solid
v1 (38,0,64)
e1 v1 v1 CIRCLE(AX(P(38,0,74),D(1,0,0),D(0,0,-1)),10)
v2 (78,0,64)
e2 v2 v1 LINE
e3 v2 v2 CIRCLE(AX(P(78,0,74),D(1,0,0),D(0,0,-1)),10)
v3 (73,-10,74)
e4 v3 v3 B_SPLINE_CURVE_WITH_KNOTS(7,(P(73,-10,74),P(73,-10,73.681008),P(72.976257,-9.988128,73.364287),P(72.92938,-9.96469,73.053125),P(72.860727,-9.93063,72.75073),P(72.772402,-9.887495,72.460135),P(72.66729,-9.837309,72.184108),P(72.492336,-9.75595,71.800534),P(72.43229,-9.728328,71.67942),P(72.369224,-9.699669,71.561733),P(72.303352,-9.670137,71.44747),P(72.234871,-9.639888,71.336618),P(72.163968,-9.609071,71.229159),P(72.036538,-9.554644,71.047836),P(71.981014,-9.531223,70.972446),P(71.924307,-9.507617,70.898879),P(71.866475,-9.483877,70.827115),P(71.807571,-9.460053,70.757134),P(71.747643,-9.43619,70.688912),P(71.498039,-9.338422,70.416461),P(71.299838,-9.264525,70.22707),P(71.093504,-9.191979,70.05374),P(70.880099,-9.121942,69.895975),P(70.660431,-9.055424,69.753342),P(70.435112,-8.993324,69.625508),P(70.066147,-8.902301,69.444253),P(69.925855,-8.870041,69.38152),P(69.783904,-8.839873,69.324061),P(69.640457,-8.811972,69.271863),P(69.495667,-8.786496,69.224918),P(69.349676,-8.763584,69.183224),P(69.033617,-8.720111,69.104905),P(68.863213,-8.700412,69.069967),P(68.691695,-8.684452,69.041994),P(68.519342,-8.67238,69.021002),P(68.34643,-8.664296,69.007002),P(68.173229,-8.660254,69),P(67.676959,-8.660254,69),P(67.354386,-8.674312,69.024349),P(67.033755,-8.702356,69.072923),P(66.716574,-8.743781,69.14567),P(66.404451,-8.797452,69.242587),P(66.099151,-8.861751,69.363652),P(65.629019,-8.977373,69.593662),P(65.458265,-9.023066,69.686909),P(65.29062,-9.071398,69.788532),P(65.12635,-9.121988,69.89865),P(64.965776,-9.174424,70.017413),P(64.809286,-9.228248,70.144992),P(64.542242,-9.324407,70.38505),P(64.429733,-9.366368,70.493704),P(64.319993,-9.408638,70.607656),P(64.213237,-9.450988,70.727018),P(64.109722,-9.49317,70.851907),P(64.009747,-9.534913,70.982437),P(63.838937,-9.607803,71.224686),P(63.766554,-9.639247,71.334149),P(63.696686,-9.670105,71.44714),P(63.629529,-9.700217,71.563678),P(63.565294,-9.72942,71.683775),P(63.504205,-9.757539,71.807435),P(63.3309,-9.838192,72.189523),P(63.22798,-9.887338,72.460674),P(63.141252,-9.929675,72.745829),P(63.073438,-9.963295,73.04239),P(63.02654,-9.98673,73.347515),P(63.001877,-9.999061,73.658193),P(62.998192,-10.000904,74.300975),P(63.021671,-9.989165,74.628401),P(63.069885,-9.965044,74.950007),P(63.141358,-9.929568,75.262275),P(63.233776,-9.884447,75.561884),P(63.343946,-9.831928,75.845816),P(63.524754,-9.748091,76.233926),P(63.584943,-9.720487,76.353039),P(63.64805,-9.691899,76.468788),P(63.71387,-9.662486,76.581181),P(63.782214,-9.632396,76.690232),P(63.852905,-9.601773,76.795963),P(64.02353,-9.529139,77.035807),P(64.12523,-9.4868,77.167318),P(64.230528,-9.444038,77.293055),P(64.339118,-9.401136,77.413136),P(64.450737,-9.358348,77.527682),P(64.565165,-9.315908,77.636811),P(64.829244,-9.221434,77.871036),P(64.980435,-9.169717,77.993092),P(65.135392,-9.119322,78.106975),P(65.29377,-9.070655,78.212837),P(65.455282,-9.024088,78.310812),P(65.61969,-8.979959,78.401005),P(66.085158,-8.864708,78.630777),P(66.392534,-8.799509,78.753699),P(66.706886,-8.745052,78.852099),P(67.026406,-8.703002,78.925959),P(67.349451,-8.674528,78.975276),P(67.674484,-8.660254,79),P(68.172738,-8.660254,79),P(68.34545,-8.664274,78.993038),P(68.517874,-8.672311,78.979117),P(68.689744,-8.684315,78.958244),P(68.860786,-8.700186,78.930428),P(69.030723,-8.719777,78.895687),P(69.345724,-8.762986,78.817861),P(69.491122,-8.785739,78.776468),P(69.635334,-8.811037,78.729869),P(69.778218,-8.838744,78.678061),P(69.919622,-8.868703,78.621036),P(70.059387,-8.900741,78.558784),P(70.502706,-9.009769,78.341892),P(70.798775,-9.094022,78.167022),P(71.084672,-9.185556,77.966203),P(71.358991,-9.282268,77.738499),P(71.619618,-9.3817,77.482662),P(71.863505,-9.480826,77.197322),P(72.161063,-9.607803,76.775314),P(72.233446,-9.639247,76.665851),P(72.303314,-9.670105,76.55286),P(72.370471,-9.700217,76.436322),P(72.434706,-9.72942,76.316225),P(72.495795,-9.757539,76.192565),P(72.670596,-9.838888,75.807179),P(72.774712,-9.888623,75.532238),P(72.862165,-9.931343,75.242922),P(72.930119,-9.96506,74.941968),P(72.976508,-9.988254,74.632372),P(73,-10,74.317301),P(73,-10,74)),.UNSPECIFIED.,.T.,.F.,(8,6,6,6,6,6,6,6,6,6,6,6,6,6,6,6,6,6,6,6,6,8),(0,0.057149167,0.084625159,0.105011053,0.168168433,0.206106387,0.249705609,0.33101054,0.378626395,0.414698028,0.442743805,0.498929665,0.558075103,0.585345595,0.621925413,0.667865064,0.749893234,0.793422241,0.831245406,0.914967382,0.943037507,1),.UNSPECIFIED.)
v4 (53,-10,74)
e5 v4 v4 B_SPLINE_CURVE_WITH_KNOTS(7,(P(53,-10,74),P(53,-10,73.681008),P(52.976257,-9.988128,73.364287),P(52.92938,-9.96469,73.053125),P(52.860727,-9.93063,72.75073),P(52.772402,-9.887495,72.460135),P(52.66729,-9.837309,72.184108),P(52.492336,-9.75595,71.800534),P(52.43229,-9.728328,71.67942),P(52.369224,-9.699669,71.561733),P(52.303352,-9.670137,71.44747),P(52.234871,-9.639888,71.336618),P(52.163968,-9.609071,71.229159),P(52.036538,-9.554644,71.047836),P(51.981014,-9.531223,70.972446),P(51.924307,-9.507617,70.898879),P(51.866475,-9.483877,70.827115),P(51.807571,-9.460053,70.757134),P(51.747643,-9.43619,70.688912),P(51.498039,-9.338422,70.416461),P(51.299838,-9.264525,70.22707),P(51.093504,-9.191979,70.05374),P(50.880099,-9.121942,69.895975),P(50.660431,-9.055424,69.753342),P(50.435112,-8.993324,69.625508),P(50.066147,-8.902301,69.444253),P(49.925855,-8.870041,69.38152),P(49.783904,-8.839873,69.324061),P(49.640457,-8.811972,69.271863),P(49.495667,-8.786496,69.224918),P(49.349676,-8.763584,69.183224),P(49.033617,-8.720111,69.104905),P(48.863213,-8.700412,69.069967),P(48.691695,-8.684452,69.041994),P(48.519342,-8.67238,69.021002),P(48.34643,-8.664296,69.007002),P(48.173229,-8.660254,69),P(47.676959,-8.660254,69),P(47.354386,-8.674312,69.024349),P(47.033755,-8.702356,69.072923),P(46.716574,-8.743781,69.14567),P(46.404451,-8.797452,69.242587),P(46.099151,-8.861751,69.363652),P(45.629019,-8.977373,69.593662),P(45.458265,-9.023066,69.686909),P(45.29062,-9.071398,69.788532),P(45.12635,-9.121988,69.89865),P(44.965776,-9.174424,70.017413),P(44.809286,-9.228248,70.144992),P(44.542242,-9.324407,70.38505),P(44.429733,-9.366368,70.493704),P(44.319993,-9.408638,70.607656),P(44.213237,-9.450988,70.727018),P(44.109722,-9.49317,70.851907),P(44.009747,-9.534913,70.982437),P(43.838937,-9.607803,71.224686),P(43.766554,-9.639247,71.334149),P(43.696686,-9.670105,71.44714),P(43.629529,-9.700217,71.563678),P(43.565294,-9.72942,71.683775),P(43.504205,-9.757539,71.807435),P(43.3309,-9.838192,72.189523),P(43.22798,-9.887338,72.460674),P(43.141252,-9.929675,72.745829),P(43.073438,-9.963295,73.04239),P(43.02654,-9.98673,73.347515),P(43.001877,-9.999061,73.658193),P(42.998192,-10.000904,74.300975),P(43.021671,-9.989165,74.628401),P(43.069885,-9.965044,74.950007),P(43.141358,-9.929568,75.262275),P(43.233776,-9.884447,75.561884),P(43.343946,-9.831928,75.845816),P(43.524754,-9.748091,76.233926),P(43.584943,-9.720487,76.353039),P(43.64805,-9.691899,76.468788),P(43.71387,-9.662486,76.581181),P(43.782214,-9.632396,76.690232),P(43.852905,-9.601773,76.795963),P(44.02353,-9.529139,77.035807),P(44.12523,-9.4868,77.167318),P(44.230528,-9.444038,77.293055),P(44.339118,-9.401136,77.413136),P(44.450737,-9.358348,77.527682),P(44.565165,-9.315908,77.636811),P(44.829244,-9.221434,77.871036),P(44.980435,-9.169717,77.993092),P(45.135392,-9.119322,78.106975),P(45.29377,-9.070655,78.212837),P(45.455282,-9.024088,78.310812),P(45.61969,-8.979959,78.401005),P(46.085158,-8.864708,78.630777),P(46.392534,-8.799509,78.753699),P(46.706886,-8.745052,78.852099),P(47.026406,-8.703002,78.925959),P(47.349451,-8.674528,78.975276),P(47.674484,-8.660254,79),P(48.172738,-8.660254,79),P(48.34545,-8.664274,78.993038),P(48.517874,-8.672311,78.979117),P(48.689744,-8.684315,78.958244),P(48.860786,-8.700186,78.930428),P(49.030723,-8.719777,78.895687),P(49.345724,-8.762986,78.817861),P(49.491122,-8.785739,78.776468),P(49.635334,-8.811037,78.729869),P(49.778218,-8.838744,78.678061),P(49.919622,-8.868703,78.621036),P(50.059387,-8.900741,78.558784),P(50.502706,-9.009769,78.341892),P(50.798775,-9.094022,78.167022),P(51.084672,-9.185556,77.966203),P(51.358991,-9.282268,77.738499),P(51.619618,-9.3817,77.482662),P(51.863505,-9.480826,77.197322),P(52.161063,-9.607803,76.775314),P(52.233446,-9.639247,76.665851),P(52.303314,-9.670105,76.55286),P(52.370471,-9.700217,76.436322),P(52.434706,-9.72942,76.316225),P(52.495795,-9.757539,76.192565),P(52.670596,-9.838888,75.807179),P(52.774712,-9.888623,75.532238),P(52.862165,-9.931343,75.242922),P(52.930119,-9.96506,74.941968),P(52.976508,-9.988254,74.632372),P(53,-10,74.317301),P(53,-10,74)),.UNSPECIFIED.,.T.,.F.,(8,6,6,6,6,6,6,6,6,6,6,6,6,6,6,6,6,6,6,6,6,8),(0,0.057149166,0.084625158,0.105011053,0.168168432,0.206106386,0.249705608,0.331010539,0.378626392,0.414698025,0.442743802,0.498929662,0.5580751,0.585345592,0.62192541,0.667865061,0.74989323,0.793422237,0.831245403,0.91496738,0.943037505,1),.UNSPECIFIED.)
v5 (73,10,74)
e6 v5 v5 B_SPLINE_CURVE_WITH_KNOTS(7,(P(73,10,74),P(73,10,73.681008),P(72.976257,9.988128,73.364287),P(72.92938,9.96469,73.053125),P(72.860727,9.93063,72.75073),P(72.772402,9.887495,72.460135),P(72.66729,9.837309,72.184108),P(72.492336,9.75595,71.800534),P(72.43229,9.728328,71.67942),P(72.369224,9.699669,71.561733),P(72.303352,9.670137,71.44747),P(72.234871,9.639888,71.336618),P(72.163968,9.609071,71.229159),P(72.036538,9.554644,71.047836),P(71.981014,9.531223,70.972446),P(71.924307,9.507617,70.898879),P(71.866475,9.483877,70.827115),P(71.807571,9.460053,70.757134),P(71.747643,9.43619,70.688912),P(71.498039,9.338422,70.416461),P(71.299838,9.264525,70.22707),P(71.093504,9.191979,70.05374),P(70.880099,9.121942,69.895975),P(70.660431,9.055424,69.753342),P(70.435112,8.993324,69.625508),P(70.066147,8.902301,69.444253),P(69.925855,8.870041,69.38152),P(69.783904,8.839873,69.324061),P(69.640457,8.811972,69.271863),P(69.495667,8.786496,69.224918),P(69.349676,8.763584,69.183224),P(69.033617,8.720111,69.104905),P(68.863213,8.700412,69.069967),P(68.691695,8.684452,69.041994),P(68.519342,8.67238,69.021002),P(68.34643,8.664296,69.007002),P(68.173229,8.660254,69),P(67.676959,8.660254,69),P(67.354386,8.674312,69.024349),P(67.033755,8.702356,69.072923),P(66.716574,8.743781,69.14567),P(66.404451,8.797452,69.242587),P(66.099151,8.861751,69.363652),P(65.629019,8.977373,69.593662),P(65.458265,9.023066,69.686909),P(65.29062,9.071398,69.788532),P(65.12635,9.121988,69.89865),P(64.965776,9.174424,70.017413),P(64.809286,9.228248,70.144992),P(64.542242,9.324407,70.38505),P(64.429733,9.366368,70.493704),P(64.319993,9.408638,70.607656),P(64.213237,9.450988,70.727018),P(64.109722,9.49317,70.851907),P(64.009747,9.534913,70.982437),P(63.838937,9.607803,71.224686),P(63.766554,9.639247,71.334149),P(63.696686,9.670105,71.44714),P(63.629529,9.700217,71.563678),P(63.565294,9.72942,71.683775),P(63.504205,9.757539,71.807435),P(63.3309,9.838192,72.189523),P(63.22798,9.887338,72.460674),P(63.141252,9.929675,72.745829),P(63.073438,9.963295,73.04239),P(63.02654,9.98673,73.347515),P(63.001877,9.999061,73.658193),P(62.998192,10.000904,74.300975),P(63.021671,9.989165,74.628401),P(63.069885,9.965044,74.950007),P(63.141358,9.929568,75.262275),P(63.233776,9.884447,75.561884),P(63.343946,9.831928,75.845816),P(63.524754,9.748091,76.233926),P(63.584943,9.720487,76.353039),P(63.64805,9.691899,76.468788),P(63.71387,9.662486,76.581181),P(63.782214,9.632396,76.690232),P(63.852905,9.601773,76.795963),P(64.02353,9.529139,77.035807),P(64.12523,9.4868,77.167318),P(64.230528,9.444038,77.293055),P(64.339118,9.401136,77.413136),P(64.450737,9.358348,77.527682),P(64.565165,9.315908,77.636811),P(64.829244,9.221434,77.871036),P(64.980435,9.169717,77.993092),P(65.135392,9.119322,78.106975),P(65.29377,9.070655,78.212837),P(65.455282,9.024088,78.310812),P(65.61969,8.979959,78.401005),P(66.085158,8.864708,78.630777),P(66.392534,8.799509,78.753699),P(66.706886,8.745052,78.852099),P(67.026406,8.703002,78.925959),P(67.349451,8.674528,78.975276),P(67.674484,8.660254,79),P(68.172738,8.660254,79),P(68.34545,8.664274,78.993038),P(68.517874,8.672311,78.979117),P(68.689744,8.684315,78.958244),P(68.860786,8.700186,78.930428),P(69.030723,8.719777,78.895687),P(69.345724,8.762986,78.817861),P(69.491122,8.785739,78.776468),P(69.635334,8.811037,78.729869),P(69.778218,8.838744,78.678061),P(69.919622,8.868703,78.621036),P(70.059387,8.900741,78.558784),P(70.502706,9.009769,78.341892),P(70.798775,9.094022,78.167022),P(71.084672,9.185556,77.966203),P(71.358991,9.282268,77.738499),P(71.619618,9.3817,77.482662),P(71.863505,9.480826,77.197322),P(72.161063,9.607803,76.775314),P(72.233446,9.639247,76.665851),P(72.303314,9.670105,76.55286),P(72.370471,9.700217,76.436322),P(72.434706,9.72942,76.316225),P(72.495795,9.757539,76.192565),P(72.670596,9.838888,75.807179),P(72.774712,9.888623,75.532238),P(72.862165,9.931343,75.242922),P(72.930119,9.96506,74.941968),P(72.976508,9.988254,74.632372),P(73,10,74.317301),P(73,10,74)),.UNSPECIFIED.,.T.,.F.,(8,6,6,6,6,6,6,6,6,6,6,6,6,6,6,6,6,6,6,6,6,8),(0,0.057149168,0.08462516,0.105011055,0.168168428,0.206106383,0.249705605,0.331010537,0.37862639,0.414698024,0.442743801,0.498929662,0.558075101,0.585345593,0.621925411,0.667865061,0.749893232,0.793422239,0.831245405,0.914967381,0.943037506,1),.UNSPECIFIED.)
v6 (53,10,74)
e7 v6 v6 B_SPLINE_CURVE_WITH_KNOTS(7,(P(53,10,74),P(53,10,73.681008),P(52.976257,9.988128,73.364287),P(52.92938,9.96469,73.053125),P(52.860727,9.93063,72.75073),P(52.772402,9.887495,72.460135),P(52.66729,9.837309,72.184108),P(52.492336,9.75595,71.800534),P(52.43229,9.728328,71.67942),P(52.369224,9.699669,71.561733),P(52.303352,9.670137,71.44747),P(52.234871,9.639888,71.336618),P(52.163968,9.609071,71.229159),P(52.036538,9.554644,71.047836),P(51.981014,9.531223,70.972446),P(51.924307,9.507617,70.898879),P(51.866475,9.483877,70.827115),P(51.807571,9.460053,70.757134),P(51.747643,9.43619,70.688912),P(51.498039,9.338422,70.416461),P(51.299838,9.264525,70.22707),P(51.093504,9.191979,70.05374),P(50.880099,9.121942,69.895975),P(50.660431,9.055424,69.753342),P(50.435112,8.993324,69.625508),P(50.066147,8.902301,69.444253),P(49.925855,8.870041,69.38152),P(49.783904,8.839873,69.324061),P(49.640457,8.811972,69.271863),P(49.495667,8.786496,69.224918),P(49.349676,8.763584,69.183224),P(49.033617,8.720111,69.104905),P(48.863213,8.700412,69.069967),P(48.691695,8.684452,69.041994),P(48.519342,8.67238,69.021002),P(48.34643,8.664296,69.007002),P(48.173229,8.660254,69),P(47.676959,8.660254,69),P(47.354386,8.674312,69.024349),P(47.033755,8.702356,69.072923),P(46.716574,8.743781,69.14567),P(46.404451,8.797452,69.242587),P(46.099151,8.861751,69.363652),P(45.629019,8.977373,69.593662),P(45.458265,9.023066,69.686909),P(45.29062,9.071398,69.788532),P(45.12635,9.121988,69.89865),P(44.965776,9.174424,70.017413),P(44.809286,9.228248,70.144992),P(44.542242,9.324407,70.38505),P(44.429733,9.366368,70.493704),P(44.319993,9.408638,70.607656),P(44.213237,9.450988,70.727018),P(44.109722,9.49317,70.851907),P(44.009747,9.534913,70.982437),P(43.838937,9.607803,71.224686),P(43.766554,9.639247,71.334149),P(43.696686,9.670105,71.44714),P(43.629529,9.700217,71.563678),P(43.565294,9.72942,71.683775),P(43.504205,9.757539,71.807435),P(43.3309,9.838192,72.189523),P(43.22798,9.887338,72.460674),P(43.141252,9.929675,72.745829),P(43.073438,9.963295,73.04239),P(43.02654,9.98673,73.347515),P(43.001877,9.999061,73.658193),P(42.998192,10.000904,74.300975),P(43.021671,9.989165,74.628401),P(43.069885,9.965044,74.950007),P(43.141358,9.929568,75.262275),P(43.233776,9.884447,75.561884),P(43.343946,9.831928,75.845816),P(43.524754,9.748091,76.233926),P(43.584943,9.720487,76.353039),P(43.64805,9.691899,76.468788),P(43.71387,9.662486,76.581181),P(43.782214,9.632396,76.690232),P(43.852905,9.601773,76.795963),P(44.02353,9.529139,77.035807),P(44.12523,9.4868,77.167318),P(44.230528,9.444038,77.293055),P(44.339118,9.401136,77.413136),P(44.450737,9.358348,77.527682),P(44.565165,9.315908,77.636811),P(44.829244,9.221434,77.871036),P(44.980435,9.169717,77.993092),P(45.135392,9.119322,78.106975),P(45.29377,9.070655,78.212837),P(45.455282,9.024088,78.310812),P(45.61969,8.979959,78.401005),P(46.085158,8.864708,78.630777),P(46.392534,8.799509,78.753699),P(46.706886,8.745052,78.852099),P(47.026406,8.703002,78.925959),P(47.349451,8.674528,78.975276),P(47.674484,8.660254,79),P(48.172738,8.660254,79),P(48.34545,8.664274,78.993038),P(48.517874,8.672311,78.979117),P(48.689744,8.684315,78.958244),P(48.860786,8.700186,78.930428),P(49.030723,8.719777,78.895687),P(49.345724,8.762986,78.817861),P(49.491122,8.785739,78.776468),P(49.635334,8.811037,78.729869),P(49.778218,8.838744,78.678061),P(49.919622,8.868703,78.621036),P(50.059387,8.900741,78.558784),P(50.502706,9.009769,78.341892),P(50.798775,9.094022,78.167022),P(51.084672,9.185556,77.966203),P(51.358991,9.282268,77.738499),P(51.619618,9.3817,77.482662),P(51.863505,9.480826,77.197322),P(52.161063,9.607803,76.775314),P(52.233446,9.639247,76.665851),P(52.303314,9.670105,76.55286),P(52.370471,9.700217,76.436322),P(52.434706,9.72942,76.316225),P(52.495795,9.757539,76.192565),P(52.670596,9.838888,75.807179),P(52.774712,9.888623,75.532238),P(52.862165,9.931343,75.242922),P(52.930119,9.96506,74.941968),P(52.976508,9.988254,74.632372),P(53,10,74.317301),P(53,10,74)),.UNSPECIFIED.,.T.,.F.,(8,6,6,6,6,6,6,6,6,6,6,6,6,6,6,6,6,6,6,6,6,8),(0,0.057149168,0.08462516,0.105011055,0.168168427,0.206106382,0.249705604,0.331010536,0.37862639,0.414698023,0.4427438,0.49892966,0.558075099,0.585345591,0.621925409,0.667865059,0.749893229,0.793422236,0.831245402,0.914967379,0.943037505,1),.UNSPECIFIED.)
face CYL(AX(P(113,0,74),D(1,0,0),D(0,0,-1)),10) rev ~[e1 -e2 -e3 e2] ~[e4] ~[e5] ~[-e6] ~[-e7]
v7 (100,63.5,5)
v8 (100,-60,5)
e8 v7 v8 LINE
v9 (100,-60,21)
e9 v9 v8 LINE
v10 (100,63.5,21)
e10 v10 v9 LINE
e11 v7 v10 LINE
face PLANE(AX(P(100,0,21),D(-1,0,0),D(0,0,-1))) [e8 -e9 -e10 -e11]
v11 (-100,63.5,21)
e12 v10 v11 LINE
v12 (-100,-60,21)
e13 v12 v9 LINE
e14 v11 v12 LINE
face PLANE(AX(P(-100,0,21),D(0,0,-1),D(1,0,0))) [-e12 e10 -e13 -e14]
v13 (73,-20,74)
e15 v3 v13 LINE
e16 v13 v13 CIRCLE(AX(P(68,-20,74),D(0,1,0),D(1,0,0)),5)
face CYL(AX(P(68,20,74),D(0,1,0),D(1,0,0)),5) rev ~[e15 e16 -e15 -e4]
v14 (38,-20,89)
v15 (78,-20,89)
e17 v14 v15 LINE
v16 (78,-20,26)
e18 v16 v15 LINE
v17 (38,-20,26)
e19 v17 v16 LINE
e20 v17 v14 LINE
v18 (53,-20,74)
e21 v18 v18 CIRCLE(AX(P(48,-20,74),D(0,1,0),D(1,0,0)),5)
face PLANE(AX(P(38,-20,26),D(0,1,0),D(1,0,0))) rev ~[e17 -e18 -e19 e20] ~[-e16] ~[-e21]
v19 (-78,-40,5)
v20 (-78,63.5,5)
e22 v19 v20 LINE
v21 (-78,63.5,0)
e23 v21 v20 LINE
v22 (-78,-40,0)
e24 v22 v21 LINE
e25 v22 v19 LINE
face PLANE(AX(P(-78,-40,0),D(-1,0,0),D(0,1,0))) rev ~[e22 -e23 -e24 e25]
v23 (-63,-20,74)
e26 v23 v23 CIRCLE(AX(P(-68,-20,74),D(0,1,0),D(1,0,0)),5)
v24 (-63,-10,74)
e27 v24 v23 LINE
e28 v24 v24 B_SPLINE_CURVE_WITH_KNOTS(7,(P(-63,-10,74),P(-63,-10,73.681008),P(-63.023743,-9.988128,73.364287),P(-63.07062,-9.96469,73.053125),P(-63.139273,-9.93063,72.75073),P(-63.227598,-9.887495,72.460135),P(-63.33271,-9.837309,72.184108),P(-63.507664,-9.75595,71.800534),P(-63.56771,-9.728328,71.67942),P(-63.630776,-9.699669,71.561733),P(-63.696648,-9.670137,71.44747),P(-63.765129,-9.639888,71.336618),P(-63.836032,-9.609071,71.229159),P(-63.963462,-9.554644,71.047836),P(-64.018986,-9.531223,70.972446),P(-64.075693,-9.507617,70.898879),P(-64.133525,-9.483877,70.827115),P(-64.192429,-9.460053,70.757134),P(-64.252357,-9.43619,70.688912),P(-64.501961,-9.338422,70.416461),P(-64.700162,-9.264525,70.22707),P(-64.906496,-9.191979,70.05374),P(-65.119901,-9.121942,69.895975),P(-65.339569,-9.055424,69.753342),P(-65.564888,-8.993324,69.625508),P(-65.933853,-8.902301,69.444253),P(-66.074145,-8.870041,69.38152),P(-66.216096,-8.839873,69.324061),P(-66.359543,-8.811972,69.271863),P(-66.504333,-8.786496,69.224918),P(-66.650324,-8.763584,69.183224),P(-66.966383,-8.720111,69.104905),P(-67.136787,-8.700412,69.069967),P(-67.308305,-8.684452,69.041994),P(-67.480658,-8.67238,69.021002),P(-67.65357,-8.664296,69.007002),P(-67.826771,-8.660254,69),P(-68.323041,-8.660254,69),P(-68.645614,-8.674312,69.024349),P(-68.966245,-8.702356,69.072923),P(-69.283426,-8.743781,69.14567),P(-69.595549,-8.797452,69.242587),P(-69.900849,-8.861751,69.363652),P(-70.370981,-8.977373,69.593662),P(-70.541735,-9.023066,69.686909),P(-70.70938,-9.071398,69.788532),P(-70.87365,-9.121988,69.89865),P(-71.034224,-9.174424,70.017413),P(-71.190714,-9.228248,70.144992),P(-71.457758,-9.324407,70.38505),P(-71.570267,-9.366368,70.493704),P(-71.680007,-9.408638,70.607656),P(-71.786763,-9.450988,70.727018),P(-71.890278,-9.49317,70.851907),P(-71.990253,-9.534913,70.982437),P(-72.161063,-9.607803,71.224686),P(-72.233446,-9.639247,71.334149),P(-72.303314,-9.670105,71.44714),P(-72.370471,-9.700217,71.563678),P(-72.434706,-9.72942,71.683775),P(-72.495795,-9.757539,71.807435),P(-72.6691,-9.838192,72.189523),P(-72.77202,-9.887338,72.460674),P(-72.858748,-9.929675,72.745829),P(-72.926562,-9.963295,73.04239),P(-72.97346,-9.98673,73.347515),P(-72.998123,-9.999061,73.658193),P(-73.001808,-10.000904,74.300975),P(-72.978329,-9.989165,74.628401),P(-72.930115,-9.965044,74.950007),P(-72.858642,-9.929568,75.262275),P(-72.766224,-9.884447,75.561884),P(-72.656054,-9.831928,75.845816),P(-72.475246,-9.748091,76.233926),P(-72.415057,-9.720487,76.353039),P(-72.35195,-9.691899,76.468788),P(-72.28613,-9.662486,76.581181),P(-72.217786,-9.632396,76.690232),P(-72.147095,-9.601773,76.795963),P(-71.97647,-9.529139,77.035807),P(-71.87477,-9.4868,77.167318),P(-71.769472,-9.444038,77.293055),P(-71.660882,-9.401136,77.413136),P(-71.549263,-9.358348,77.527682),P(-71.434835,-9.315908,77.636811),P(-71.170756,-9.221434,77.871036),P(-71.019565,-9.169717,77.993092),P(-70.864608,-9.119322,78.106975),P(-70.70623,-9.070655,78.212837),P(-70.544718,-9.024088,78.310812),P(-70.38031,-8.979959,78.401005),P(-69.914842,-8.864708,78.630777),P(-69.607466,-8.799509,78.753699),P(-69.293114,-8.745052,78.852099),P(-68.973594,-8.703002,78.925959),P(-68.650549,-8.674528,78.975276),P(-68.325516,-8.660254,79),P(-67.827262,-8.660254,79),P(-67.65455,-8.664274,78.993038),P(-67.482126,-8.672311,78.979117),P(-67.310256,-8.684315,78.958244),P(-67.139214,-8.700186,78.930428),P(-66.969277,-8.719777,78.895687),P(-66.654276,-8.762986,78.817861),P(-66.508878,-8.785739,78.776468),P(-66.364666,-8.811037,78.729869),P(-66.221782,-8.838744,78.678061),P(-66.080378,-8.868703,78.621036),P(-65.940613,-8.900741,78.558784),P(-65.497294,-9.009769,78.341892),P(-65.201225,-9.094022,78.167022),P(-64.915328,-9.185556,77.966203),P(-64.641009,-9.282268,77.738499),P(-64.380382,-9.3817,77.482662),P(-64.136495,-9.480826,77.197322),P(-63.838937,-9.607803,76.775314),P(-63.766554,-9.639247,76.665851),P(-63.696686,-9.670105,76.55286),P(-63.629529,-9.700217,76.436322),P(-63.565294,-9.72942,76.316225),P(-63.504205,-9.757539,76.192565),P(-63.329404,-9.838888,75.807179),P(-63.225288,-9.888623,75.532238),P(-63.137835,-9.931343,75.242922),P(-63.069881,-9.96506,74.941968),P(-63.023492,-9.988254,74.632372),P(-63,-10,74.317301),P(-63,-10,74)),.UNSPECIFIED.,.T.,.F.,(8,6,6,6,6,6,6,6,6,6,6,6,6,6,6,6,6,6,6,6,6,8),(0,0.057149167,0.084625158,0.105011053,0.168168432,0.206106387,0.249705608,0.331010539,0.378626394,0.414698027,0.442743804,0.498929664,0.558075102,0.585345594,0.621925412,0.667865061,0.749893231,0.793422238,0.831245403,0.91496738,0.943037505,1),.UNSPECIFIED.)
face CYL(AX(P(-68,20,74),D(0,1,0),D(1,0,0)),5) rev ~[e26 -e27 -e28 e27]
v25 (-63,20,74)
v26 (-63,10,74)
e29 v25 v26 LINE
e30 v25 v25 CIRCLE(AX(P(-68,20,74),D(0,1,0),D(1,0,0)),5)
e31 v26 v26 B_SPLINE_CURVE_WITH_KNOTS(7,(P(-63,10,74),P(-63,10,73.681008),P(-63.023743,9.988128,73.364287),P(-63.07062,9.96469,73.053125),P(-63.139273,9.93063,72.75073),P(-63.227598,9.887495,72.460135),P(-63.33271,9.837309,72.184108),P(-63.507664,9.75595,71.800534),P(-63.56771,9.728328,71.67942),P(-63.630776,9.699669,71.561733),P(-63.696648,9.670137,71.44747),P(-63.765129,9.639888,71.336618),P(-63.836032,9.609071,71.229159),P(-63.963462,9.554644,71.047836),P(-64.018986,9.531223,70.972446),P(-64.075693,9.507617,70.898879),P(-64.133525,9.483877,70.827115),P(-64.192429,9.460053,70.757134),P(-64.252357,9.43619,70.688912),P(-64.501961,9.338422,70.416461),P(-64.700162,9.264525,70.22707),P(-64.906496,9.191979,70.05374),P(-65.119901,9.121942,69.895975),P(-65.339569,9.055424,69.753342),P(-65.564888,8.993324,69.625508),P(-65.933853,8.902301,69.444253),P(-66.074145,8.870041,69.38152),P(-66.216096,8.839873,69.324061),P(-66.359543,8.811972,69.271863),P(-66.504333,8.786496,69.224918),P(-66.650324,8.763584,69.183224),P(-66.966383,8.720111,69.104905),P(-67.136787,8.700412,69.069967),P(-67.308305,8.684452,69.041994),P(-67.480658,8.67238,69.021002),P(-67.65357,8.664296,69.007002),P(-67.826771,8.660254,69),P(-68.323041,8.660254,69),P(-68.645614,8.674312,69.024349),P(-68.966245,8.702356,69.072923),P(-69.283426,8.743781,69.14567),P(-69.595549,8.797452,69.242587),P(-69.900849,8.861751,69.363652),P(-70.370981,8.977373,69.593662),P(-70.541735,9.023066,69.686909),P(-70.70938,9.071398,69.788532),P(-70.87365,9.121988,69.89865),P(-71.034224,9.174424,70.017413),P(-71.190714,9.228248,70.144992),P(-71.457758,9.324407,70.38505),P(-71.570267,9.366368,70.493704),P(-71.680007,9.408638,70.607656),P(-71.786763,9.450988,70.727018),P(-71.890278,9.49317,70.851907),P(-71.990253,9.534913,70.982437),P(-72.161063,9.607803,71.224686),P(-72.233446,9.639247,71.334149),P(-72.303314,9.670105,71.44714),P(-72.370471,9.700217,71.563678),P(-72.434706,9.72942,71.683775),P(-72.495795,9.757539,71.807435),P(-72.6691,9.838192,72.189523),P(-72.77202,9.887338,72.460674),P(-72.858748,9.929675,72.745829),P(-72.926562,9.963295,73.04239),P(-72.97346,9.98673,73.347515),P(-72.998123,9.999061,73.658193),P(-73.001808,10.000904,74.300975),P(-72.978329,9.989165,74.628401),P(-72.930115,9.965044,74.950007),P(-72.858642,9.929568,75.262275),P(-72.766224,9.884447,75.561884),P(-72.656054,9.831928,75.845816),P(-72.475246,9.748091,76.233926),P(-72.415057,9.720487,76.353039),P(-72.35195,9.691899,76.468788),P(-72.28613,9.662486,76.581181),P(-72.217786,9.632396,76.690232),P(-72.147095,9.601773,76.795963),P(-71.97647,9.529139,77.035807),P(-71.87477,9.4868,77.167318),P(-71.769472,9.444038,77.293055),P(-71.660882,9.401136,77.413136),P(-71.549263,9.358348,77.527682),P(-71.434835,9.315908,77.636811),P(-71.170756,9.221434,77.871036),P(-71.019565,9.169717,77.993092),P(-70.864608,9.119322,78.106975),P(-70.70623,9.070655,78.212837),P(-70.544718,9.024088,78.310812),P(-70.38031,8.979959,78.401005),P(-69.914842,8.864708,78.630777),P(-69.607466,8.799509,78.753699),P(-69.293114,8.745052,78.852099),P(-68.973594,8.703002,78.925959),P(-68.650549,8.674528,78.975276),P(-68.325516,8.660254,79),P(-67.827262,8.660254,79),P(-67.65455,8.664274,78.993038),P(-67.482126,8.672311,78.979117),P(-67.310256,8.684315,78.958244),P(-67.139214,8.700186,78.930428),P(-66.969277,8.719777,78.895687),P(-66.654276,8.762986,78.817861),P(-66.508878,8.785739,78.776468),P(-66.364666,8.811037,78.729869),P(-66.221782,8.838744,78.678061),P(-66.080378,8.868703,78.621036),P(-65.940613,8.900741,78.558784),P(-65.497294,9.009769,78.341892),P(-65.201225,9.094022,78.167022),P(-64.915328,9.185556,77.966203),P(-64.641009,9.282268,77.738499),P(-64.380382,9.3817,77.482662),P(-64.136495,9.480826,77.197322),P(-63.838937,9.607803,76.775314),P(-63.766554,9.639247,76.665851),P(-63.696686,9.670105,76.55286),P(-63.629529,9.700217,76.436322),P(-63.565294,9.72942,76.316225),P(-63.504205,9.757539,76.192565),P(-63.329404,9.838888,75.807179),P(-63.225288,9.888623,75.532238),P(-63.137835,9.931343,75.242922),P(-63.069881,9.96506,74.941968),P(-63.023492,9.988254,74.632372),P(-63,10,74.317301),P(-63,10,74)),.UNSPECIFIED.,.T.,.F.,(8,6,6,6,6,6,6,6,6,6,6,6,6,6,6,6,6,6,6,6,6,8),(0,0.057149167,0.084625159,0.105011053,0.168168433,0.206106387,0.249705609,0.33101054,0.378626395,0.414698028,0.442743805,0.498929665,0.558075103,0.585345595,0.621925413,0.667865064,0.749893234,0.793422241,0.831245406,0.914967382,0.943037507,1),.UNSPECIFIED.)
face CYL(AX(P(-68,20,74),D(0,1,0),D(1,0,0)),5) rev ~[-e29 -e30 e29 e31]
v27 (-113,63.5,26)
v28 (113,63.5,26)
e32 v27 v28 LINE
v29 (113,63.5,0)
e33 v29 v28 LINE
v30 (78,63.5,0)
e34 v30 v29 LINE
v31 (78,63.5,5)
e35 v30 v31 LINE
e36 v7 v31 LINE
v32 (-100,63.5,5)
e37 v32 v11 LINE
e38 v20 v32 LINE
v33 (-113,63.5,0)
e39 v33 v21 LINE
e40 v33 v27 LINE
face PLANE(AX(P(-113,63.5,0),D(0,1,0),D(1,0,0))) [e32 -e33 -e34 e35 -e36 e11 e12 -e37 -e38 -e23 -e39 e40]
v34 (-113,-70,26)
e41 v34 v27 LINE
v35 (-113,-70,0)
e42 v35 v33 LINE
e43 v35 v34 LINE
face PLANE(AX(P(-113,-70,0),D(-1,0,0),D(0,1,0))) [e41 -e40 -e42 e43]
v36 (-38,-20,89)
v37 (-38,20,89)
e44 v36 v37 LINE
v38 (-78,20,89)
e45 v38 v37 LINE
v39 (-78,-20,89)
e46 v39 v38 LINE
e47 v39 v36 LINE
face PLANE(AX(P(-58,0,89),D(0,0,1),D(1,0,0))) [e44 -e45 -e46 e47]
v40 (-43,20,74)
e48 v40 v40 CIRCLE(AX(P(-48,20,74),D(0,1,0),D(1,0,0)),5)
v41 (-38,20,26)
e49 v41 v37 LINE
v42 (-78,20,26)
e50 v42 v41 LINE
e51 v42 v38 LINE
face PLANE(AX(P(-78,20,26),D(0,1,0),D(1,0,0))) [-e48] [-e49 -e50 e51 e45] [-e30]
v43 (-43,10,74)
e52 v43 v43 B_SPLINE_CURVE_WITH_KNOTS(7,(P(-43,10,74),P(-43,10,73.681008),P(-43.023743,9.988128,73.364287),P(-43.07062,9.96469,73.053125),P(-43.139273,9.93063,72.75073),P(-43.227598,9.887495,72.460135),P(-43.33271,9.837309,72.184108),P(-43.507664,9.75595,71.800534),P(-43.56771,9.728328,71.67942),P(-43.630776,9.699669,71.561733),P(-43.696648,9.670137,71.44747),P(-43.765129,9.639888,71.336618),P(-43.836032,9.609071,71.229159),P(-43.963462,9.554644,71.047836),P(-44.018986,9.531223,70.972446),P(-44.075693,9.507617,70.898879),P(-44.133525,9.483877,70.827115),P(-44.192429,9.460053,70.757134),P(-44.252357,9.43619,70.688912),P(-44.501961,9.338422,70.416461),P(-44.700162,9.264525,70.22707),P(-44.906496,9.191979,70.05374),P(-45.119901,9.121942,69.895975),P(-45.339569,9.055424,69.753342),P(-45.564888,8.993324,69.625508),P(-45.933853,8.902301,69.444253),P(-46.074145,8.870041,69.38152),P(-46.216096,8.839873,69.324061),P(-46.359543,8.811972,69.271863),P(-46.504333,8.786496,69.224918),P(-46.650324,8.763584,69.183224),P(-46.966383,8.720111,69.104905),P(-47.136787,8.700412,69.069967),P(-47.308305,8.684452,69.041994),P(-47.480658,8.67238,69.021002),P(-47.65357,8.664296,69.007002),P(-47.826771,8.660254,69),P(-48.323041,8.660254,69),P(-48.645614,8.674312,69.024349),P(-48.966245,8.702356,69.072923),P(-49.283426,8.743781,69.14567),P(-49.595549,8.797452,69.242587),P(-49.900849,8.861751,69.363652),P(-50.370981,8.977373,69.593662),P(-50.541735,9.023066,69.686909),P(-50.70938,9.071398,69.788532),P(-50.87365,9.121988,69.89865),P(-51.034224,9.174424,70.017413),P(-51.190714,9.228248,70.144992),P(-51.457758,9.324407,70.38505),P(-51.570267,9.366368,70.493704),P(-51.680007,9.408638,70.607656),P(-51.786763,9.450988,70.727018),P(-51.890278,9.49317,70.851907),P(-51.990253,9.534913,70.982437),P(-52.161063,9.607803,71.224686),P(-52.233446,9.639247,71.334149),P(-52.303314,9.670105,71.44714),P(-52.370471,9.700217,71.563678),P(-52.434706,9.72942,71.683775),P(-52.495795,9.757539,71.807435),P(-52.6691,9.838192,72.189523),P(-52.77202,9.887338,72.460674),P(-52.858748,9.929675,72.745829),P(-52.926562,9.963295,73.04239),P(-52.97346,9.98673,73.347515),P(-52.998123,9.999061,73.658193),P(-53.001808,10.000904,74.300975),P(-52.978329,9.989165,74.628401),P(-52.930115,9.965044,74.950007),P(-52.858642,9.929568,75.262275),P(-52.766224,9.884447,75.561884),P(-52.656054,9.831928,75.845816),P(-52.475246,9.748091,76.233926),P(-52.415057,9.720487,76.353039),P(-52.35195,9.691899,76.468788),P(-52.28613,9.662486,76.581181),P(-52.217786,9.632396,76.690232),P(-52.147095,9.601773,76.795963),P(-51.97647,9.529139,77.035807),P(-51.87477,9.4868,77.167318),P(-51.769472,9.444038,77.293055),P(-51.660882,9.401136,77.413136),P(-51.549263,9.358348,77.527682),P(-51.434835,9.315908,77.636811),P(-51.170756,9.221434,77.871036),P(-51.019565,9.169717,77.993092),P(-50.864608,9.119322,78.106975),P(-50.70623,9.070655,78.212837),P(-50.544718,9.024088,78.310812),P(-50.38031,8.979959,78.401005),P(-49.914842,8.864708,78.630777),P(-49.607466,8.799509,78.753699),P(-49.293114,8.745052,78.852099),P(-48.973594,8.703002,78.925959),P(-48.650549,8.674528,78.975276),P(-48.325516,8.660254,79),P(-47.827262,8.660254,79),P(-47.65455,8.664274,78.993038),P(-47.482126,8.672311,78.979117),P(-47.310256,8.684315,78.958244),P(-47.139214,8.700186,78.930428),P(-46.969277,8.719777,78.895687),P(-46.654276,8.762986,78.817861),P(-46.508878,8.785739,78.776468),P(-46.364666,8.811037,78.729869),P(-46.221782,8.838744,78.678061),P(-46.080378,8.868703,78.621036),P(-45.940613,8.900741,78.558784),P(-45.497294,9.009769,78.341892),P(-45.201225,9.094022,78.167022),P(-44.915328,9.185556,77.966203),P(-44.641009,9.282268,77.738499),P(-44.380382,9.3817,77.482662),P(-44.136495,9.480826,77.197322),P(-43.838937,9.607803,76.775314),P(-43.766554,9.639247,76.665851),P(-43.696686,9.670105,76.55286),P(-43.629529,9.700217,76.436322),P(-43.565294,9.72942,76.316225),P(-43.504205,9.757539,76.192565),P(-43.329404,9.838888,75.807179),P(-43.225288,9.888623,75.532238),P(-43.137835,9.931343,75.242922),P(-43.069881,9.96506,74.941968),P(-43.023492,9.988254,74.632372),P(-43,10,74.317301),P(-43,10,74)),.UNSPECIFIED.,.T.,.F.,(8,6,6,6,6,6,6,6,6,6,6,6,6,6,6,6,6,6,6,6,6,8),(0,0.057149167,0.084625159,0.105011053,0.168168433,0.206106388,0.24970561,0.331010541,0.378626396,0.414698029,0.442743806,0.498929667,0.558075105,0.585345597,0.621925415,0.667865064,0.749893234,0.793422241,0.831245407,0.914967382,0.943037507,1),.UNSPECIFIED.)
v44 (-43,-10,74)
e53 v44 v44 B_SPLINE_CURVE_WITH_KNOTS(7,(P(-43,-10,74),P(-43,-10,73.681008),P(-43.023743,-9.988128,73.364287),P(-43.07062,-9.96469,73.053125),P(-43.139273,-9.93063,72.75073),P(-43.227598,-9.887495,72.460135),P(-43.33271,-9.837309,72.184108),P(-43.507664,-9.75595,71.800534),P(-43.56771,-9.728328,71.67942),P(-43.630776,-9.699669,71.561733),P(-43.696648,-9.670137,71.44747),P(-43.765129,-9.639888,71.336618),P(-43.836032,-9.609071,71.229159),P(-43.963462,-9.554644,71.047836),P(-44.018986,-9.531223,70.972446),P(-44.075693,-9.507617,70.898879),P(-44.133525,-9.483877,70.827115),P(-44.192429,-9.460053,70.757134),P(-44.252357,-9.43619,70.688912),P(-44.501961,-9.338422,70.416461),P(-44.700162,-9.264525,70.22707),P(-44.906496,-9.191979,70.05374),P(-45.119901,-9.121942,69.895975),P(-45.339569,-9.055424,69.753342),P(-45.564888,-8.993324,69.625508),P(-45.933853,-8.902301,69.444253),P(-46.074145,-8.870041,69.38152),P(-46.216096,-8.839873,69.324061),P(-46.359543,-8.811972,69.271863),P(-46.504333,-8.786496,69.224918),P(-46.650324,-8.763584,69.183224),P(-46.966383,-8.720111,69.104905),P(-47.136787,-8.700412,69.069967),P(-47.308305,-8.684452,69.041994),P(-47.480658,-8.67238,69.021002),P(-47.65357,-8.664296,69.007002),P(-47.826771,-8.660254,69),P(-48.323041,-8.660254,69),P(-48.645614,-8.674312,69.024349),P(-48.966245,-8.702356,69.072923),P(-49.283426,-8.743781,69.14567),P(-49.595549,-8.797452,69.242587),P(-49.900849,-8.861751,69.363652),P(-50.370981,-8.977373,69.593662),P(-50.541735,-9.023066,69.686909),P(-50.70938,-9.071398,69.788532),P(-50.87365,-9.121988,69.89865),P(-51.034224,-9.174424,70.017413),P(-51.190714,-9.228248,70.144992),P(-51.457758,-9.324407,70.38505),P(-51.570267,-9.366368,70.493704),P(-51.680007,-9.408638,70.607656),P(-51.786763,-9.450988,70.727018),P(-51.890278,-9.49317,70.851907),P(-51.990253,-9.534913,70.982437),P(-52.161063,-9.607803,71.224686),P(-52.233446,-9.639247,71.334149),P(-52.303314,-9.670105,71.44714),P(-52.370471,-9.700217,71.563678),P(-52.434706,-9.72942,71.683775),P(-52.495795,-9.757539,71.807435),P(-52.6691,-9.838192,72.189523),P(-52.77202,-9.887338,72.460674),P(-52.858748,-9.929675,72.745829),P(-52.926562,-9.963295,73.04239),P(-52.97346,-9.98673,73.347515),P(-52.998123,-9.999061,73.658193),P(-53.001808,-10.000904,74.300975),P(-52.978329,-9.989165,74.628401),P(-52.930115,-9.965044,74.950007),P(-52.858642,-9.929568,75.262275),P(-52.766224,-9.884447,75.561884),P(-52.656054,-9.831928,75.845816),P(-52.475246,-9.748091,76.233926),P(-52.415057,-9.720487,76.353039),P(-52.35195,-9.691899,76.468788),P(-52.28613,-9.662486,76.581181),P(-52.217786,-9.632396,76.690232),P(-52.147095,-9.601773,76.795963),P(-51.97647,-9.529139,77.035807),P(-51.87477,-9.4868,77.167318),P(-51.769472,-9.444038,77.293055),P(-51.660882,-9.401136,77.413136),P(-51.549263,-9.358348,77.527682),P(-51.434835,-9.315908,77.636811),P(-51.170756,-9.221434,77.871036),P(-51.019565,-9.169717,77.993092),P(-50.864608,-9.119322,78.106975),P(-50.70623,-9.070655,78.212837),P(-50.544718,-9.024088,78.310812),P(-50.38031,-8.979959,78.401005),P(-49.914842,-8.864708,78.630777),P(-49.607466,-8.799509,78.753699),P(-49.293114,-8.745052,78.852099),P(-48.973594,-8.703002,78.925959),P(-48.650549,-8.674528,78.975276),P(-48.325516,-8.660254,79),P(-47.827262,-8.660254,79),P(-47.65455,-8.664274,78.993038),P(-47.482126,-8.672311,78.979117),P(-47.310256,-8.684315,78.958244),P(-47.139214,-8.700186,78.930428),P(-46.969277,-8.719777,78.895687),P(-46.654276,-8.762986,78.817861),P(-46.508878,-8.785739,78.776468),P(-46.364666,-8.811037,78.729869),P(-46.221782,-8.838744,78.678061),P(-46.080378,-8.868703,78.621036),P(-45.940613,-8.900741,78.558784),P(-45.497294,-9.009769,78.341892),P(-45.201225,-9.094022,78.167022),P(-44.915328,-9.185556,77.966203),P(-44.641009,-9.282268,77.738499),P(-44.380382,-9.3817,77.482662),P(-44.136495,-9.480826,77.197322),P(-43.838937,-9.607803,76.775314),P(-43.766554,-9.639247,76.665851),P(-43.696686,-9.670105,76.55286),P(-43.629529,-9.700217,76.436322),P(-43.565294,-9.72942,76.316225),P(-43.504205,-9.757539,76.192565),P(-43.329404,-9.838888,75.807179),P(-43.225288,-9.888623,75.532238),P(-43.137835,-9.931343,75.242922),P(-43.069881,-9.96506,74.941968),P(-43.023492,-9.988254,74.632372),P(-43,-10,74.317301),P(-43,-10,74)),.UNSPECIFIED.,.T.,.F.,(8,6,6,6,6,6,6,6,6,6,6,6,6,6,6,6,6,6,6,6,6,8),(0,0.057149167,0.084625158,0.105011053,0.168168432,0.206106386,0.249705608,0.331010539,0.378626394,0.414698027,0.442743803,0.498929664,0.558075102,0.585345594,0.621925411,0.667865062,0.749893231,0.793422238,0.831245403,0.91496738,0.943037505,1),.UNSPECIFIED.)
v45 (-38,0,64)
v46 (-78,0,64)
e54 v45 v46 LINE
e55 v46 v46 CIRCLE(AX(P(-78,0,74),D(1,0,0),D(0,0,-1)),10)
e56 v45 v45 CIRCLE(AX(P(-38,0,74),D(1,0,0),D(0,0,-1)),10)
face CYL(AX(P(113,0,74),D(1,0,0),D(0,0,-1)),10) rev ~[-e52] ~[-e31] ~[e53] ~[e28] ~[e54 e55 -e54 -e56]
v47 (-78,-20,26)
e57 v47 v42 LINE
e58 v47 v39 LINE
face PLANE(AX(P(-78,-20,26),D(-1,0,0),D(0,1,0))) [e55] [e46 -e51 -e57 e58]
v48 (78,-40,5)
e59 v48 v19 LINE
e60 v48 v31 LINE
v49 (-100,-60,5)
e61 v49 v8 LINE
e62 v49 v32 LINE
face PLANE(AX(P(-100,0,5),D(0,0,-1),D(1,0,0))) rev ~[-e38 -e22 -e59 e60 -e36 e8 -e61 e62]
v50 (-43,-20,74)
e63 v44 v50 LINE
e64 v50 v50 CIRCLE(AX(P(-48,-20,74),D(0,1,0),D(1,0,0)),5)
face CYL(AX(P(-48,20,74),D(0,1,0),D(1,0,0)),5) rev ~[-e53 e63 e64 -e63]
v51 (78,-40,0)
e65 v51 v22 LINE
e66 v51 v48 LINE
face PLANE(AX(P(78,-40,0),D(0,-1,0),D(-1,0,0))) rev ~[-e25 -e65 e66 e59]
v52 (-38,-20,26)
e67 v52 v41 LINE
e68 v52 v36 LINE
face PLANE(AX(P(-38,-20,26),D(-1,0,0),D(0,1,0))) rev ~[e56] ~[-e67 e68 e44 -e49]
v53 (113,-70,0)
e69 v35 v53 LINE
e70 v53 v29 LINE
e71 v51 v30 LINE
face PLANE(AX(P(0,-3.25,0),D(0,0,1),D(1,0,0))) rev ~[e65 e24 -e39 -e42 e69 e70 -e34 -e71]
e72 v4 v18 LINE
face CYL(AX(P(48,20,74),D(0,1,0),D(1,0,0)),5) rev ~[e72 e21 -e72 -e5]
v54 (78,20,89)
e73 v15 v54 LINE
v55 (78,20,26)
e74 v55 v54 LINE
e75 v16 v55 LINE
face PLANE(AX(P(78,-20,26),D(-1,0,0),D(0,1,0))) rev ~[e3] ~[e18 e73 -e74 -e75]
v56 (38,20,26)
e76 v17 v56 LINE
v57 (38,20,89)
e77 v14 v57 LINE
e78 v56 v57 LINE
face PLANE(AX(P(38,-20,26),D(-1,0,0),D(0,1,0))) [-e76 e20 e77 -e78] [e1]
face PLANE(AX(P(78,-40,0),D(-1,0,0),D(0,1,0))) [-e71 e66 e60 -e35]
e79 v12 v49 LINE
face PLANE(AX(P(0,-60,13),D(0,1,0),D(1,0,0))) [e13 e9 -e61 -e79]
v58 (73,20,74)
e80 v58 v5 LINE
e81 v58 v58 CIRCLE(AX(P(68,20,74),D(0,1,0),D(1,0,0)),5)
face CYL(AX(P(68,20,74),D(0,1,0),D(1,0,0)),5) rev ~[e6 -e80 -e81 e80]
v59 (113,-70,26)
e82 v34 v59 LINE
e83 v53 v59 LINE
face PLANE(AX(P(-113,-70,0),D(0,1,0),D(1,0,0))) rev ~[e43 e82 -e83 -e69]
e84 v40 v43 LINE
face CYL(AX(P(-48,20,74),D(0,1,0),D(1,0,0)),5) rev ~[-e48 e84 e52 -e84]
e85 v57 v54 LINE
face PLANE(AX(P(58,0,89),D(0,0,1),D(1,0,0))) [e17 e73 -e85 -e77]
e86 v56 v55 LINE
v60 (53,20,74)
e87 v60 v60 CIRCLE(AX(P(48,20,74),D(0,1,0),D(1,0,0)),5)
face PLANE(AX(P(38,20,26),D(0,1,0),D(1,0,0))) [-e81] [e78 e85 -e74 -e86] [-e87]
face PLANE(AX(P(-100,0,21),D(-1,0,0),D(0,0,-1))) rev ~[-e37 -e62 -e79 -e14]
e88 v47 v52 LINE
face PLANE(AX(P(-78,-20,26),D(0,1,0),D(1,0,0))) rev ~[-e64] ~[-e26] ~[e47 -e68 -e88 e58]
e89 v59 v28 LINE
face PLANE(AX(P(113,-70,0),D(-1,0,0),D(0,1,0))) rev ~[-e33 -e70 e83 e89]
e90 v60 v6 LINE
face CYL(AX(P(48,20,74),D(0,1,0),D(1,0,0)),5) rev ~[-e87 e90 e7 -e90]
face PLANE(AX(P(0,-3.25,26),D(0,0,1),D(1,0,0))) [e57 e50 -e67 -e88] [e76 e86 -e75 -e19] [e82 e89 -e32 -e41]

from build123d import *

# Parameters (mm, degrees)
SKETCH3_W               = 226
SKETCH3_H               = 133.5
BOSS_EXTRUDE1_DEPTH     = 26
SKETCH4_W               = 200
SKETCH4_H               = 16
CUT_EXTRUDE2_DEPTH      = 64.5
CUT_EXTRUDE2_DEPTH_BACK = 60
SKETCH6_W               = 40
SKETCH6_H               = 40
BOSS_EXTRUDE5_DEPTH     = 63
SKETCH7_R               = 10
CUT_EXTRUDE3_DEPTH      = 260
SKETCH13_R              = 5
CUT_EXTRUDE6_DEPTH      = 91
SKETCH10_W              = 156
SKETCH10_H              = 103.5
CUT_EXTRUDE5_DEPTH      = 5


with BuildPart() as part:
    # Sketch3 → Boss-Extrude1 (new body)
    with BuildSketch(Plane.XY):
        with Locations((0, -3.25)):
            Rectangle(SKETCH3_W, SKETCH3_H)
    extrude(amount=BOSS_EXTRUDE1_DEPTH)

    # Sketch4 → Cut-Extrude2 (cut, two sides)
    with BuildSketch(Plane(origin=(0, 0, 0), x_dir=(1, 0, 0), z_dir=(0, 1, 0))) as cut_extrude2_sk:
        with Locations((0, -13)):
            Rectangle(SKETCH4_W, SKETCH4_H)
    extrude(amount=CUT_EXTRUDE2_DEPTH, mode=Mode.SUBTRACT)
    extrude(cut_extrude2_sk.sketch, amount=-CUT_EXTRUDE2_DEPTH_BACK, mode=Mode.SUBTRACT)

    # Sketch6 → Boss-Extrude5 (add)
    with BuildSketch(Plane.XY.offset(26)):
        with Locations((-58, 0)):
            Rectangle(SKETCH6_W, SKETCH6_H)
        with Locations((58, 0)):
            Rectangle(SKETCH6_W, SKETCH6_H)
    extrude(amount=BOSS_EXTRUDE5_DEPTH)

    # Sketch7 → Cut-Extrude3 (cut)
    with BuildSketch(Plane(origin=(113, 0, 0), x_dir=(0, 0, -1), z_dir=(1, 0, 0))):
        with Locations((-74, 0)):
            Circle(SKETCH7_R)
    extrude(amount=-CUT_EXTRUDE3_DEPTH, mode=Mode.SUBTRACT)

    # Sketch13 → Cut-Extrude6 (cut, through all)
    with BuildSketch(Plane(origin=(0, 20, 0), x_dir=(1, 0, 0), z_dir=(0, 1, 0))):
        with Locations((-68, -74)):
            Circle(SKETCH13_R)
        with Locations((-48, -74)):
            Circle(SKETCH13_R)
        with Locations((48, -74)):
            Circle(SKETCH13_R)
        with Locations((68, -74)):
            Circle(SKETCH13_R)
    extrude(amount=-CUT_EXTRUDE6_DEPTH, mode=Mode.SUBTRACT)

    # Sketch10 → Cut-Extrude5 (cut)
    with BuildSketch(Plane(origin=(0, 0, 0), x_dir=(-1, 0, 0), z_dir=(0, 0, -1))):
        with Locations((0, 11.75)):
            Rectangle(SKETCH10_W, SKETCH10_H)
    extrude(amount=-CUT_EXTRUDE5_DEPTH, mode=Mode.SUBTRACT)


solid = part.part
